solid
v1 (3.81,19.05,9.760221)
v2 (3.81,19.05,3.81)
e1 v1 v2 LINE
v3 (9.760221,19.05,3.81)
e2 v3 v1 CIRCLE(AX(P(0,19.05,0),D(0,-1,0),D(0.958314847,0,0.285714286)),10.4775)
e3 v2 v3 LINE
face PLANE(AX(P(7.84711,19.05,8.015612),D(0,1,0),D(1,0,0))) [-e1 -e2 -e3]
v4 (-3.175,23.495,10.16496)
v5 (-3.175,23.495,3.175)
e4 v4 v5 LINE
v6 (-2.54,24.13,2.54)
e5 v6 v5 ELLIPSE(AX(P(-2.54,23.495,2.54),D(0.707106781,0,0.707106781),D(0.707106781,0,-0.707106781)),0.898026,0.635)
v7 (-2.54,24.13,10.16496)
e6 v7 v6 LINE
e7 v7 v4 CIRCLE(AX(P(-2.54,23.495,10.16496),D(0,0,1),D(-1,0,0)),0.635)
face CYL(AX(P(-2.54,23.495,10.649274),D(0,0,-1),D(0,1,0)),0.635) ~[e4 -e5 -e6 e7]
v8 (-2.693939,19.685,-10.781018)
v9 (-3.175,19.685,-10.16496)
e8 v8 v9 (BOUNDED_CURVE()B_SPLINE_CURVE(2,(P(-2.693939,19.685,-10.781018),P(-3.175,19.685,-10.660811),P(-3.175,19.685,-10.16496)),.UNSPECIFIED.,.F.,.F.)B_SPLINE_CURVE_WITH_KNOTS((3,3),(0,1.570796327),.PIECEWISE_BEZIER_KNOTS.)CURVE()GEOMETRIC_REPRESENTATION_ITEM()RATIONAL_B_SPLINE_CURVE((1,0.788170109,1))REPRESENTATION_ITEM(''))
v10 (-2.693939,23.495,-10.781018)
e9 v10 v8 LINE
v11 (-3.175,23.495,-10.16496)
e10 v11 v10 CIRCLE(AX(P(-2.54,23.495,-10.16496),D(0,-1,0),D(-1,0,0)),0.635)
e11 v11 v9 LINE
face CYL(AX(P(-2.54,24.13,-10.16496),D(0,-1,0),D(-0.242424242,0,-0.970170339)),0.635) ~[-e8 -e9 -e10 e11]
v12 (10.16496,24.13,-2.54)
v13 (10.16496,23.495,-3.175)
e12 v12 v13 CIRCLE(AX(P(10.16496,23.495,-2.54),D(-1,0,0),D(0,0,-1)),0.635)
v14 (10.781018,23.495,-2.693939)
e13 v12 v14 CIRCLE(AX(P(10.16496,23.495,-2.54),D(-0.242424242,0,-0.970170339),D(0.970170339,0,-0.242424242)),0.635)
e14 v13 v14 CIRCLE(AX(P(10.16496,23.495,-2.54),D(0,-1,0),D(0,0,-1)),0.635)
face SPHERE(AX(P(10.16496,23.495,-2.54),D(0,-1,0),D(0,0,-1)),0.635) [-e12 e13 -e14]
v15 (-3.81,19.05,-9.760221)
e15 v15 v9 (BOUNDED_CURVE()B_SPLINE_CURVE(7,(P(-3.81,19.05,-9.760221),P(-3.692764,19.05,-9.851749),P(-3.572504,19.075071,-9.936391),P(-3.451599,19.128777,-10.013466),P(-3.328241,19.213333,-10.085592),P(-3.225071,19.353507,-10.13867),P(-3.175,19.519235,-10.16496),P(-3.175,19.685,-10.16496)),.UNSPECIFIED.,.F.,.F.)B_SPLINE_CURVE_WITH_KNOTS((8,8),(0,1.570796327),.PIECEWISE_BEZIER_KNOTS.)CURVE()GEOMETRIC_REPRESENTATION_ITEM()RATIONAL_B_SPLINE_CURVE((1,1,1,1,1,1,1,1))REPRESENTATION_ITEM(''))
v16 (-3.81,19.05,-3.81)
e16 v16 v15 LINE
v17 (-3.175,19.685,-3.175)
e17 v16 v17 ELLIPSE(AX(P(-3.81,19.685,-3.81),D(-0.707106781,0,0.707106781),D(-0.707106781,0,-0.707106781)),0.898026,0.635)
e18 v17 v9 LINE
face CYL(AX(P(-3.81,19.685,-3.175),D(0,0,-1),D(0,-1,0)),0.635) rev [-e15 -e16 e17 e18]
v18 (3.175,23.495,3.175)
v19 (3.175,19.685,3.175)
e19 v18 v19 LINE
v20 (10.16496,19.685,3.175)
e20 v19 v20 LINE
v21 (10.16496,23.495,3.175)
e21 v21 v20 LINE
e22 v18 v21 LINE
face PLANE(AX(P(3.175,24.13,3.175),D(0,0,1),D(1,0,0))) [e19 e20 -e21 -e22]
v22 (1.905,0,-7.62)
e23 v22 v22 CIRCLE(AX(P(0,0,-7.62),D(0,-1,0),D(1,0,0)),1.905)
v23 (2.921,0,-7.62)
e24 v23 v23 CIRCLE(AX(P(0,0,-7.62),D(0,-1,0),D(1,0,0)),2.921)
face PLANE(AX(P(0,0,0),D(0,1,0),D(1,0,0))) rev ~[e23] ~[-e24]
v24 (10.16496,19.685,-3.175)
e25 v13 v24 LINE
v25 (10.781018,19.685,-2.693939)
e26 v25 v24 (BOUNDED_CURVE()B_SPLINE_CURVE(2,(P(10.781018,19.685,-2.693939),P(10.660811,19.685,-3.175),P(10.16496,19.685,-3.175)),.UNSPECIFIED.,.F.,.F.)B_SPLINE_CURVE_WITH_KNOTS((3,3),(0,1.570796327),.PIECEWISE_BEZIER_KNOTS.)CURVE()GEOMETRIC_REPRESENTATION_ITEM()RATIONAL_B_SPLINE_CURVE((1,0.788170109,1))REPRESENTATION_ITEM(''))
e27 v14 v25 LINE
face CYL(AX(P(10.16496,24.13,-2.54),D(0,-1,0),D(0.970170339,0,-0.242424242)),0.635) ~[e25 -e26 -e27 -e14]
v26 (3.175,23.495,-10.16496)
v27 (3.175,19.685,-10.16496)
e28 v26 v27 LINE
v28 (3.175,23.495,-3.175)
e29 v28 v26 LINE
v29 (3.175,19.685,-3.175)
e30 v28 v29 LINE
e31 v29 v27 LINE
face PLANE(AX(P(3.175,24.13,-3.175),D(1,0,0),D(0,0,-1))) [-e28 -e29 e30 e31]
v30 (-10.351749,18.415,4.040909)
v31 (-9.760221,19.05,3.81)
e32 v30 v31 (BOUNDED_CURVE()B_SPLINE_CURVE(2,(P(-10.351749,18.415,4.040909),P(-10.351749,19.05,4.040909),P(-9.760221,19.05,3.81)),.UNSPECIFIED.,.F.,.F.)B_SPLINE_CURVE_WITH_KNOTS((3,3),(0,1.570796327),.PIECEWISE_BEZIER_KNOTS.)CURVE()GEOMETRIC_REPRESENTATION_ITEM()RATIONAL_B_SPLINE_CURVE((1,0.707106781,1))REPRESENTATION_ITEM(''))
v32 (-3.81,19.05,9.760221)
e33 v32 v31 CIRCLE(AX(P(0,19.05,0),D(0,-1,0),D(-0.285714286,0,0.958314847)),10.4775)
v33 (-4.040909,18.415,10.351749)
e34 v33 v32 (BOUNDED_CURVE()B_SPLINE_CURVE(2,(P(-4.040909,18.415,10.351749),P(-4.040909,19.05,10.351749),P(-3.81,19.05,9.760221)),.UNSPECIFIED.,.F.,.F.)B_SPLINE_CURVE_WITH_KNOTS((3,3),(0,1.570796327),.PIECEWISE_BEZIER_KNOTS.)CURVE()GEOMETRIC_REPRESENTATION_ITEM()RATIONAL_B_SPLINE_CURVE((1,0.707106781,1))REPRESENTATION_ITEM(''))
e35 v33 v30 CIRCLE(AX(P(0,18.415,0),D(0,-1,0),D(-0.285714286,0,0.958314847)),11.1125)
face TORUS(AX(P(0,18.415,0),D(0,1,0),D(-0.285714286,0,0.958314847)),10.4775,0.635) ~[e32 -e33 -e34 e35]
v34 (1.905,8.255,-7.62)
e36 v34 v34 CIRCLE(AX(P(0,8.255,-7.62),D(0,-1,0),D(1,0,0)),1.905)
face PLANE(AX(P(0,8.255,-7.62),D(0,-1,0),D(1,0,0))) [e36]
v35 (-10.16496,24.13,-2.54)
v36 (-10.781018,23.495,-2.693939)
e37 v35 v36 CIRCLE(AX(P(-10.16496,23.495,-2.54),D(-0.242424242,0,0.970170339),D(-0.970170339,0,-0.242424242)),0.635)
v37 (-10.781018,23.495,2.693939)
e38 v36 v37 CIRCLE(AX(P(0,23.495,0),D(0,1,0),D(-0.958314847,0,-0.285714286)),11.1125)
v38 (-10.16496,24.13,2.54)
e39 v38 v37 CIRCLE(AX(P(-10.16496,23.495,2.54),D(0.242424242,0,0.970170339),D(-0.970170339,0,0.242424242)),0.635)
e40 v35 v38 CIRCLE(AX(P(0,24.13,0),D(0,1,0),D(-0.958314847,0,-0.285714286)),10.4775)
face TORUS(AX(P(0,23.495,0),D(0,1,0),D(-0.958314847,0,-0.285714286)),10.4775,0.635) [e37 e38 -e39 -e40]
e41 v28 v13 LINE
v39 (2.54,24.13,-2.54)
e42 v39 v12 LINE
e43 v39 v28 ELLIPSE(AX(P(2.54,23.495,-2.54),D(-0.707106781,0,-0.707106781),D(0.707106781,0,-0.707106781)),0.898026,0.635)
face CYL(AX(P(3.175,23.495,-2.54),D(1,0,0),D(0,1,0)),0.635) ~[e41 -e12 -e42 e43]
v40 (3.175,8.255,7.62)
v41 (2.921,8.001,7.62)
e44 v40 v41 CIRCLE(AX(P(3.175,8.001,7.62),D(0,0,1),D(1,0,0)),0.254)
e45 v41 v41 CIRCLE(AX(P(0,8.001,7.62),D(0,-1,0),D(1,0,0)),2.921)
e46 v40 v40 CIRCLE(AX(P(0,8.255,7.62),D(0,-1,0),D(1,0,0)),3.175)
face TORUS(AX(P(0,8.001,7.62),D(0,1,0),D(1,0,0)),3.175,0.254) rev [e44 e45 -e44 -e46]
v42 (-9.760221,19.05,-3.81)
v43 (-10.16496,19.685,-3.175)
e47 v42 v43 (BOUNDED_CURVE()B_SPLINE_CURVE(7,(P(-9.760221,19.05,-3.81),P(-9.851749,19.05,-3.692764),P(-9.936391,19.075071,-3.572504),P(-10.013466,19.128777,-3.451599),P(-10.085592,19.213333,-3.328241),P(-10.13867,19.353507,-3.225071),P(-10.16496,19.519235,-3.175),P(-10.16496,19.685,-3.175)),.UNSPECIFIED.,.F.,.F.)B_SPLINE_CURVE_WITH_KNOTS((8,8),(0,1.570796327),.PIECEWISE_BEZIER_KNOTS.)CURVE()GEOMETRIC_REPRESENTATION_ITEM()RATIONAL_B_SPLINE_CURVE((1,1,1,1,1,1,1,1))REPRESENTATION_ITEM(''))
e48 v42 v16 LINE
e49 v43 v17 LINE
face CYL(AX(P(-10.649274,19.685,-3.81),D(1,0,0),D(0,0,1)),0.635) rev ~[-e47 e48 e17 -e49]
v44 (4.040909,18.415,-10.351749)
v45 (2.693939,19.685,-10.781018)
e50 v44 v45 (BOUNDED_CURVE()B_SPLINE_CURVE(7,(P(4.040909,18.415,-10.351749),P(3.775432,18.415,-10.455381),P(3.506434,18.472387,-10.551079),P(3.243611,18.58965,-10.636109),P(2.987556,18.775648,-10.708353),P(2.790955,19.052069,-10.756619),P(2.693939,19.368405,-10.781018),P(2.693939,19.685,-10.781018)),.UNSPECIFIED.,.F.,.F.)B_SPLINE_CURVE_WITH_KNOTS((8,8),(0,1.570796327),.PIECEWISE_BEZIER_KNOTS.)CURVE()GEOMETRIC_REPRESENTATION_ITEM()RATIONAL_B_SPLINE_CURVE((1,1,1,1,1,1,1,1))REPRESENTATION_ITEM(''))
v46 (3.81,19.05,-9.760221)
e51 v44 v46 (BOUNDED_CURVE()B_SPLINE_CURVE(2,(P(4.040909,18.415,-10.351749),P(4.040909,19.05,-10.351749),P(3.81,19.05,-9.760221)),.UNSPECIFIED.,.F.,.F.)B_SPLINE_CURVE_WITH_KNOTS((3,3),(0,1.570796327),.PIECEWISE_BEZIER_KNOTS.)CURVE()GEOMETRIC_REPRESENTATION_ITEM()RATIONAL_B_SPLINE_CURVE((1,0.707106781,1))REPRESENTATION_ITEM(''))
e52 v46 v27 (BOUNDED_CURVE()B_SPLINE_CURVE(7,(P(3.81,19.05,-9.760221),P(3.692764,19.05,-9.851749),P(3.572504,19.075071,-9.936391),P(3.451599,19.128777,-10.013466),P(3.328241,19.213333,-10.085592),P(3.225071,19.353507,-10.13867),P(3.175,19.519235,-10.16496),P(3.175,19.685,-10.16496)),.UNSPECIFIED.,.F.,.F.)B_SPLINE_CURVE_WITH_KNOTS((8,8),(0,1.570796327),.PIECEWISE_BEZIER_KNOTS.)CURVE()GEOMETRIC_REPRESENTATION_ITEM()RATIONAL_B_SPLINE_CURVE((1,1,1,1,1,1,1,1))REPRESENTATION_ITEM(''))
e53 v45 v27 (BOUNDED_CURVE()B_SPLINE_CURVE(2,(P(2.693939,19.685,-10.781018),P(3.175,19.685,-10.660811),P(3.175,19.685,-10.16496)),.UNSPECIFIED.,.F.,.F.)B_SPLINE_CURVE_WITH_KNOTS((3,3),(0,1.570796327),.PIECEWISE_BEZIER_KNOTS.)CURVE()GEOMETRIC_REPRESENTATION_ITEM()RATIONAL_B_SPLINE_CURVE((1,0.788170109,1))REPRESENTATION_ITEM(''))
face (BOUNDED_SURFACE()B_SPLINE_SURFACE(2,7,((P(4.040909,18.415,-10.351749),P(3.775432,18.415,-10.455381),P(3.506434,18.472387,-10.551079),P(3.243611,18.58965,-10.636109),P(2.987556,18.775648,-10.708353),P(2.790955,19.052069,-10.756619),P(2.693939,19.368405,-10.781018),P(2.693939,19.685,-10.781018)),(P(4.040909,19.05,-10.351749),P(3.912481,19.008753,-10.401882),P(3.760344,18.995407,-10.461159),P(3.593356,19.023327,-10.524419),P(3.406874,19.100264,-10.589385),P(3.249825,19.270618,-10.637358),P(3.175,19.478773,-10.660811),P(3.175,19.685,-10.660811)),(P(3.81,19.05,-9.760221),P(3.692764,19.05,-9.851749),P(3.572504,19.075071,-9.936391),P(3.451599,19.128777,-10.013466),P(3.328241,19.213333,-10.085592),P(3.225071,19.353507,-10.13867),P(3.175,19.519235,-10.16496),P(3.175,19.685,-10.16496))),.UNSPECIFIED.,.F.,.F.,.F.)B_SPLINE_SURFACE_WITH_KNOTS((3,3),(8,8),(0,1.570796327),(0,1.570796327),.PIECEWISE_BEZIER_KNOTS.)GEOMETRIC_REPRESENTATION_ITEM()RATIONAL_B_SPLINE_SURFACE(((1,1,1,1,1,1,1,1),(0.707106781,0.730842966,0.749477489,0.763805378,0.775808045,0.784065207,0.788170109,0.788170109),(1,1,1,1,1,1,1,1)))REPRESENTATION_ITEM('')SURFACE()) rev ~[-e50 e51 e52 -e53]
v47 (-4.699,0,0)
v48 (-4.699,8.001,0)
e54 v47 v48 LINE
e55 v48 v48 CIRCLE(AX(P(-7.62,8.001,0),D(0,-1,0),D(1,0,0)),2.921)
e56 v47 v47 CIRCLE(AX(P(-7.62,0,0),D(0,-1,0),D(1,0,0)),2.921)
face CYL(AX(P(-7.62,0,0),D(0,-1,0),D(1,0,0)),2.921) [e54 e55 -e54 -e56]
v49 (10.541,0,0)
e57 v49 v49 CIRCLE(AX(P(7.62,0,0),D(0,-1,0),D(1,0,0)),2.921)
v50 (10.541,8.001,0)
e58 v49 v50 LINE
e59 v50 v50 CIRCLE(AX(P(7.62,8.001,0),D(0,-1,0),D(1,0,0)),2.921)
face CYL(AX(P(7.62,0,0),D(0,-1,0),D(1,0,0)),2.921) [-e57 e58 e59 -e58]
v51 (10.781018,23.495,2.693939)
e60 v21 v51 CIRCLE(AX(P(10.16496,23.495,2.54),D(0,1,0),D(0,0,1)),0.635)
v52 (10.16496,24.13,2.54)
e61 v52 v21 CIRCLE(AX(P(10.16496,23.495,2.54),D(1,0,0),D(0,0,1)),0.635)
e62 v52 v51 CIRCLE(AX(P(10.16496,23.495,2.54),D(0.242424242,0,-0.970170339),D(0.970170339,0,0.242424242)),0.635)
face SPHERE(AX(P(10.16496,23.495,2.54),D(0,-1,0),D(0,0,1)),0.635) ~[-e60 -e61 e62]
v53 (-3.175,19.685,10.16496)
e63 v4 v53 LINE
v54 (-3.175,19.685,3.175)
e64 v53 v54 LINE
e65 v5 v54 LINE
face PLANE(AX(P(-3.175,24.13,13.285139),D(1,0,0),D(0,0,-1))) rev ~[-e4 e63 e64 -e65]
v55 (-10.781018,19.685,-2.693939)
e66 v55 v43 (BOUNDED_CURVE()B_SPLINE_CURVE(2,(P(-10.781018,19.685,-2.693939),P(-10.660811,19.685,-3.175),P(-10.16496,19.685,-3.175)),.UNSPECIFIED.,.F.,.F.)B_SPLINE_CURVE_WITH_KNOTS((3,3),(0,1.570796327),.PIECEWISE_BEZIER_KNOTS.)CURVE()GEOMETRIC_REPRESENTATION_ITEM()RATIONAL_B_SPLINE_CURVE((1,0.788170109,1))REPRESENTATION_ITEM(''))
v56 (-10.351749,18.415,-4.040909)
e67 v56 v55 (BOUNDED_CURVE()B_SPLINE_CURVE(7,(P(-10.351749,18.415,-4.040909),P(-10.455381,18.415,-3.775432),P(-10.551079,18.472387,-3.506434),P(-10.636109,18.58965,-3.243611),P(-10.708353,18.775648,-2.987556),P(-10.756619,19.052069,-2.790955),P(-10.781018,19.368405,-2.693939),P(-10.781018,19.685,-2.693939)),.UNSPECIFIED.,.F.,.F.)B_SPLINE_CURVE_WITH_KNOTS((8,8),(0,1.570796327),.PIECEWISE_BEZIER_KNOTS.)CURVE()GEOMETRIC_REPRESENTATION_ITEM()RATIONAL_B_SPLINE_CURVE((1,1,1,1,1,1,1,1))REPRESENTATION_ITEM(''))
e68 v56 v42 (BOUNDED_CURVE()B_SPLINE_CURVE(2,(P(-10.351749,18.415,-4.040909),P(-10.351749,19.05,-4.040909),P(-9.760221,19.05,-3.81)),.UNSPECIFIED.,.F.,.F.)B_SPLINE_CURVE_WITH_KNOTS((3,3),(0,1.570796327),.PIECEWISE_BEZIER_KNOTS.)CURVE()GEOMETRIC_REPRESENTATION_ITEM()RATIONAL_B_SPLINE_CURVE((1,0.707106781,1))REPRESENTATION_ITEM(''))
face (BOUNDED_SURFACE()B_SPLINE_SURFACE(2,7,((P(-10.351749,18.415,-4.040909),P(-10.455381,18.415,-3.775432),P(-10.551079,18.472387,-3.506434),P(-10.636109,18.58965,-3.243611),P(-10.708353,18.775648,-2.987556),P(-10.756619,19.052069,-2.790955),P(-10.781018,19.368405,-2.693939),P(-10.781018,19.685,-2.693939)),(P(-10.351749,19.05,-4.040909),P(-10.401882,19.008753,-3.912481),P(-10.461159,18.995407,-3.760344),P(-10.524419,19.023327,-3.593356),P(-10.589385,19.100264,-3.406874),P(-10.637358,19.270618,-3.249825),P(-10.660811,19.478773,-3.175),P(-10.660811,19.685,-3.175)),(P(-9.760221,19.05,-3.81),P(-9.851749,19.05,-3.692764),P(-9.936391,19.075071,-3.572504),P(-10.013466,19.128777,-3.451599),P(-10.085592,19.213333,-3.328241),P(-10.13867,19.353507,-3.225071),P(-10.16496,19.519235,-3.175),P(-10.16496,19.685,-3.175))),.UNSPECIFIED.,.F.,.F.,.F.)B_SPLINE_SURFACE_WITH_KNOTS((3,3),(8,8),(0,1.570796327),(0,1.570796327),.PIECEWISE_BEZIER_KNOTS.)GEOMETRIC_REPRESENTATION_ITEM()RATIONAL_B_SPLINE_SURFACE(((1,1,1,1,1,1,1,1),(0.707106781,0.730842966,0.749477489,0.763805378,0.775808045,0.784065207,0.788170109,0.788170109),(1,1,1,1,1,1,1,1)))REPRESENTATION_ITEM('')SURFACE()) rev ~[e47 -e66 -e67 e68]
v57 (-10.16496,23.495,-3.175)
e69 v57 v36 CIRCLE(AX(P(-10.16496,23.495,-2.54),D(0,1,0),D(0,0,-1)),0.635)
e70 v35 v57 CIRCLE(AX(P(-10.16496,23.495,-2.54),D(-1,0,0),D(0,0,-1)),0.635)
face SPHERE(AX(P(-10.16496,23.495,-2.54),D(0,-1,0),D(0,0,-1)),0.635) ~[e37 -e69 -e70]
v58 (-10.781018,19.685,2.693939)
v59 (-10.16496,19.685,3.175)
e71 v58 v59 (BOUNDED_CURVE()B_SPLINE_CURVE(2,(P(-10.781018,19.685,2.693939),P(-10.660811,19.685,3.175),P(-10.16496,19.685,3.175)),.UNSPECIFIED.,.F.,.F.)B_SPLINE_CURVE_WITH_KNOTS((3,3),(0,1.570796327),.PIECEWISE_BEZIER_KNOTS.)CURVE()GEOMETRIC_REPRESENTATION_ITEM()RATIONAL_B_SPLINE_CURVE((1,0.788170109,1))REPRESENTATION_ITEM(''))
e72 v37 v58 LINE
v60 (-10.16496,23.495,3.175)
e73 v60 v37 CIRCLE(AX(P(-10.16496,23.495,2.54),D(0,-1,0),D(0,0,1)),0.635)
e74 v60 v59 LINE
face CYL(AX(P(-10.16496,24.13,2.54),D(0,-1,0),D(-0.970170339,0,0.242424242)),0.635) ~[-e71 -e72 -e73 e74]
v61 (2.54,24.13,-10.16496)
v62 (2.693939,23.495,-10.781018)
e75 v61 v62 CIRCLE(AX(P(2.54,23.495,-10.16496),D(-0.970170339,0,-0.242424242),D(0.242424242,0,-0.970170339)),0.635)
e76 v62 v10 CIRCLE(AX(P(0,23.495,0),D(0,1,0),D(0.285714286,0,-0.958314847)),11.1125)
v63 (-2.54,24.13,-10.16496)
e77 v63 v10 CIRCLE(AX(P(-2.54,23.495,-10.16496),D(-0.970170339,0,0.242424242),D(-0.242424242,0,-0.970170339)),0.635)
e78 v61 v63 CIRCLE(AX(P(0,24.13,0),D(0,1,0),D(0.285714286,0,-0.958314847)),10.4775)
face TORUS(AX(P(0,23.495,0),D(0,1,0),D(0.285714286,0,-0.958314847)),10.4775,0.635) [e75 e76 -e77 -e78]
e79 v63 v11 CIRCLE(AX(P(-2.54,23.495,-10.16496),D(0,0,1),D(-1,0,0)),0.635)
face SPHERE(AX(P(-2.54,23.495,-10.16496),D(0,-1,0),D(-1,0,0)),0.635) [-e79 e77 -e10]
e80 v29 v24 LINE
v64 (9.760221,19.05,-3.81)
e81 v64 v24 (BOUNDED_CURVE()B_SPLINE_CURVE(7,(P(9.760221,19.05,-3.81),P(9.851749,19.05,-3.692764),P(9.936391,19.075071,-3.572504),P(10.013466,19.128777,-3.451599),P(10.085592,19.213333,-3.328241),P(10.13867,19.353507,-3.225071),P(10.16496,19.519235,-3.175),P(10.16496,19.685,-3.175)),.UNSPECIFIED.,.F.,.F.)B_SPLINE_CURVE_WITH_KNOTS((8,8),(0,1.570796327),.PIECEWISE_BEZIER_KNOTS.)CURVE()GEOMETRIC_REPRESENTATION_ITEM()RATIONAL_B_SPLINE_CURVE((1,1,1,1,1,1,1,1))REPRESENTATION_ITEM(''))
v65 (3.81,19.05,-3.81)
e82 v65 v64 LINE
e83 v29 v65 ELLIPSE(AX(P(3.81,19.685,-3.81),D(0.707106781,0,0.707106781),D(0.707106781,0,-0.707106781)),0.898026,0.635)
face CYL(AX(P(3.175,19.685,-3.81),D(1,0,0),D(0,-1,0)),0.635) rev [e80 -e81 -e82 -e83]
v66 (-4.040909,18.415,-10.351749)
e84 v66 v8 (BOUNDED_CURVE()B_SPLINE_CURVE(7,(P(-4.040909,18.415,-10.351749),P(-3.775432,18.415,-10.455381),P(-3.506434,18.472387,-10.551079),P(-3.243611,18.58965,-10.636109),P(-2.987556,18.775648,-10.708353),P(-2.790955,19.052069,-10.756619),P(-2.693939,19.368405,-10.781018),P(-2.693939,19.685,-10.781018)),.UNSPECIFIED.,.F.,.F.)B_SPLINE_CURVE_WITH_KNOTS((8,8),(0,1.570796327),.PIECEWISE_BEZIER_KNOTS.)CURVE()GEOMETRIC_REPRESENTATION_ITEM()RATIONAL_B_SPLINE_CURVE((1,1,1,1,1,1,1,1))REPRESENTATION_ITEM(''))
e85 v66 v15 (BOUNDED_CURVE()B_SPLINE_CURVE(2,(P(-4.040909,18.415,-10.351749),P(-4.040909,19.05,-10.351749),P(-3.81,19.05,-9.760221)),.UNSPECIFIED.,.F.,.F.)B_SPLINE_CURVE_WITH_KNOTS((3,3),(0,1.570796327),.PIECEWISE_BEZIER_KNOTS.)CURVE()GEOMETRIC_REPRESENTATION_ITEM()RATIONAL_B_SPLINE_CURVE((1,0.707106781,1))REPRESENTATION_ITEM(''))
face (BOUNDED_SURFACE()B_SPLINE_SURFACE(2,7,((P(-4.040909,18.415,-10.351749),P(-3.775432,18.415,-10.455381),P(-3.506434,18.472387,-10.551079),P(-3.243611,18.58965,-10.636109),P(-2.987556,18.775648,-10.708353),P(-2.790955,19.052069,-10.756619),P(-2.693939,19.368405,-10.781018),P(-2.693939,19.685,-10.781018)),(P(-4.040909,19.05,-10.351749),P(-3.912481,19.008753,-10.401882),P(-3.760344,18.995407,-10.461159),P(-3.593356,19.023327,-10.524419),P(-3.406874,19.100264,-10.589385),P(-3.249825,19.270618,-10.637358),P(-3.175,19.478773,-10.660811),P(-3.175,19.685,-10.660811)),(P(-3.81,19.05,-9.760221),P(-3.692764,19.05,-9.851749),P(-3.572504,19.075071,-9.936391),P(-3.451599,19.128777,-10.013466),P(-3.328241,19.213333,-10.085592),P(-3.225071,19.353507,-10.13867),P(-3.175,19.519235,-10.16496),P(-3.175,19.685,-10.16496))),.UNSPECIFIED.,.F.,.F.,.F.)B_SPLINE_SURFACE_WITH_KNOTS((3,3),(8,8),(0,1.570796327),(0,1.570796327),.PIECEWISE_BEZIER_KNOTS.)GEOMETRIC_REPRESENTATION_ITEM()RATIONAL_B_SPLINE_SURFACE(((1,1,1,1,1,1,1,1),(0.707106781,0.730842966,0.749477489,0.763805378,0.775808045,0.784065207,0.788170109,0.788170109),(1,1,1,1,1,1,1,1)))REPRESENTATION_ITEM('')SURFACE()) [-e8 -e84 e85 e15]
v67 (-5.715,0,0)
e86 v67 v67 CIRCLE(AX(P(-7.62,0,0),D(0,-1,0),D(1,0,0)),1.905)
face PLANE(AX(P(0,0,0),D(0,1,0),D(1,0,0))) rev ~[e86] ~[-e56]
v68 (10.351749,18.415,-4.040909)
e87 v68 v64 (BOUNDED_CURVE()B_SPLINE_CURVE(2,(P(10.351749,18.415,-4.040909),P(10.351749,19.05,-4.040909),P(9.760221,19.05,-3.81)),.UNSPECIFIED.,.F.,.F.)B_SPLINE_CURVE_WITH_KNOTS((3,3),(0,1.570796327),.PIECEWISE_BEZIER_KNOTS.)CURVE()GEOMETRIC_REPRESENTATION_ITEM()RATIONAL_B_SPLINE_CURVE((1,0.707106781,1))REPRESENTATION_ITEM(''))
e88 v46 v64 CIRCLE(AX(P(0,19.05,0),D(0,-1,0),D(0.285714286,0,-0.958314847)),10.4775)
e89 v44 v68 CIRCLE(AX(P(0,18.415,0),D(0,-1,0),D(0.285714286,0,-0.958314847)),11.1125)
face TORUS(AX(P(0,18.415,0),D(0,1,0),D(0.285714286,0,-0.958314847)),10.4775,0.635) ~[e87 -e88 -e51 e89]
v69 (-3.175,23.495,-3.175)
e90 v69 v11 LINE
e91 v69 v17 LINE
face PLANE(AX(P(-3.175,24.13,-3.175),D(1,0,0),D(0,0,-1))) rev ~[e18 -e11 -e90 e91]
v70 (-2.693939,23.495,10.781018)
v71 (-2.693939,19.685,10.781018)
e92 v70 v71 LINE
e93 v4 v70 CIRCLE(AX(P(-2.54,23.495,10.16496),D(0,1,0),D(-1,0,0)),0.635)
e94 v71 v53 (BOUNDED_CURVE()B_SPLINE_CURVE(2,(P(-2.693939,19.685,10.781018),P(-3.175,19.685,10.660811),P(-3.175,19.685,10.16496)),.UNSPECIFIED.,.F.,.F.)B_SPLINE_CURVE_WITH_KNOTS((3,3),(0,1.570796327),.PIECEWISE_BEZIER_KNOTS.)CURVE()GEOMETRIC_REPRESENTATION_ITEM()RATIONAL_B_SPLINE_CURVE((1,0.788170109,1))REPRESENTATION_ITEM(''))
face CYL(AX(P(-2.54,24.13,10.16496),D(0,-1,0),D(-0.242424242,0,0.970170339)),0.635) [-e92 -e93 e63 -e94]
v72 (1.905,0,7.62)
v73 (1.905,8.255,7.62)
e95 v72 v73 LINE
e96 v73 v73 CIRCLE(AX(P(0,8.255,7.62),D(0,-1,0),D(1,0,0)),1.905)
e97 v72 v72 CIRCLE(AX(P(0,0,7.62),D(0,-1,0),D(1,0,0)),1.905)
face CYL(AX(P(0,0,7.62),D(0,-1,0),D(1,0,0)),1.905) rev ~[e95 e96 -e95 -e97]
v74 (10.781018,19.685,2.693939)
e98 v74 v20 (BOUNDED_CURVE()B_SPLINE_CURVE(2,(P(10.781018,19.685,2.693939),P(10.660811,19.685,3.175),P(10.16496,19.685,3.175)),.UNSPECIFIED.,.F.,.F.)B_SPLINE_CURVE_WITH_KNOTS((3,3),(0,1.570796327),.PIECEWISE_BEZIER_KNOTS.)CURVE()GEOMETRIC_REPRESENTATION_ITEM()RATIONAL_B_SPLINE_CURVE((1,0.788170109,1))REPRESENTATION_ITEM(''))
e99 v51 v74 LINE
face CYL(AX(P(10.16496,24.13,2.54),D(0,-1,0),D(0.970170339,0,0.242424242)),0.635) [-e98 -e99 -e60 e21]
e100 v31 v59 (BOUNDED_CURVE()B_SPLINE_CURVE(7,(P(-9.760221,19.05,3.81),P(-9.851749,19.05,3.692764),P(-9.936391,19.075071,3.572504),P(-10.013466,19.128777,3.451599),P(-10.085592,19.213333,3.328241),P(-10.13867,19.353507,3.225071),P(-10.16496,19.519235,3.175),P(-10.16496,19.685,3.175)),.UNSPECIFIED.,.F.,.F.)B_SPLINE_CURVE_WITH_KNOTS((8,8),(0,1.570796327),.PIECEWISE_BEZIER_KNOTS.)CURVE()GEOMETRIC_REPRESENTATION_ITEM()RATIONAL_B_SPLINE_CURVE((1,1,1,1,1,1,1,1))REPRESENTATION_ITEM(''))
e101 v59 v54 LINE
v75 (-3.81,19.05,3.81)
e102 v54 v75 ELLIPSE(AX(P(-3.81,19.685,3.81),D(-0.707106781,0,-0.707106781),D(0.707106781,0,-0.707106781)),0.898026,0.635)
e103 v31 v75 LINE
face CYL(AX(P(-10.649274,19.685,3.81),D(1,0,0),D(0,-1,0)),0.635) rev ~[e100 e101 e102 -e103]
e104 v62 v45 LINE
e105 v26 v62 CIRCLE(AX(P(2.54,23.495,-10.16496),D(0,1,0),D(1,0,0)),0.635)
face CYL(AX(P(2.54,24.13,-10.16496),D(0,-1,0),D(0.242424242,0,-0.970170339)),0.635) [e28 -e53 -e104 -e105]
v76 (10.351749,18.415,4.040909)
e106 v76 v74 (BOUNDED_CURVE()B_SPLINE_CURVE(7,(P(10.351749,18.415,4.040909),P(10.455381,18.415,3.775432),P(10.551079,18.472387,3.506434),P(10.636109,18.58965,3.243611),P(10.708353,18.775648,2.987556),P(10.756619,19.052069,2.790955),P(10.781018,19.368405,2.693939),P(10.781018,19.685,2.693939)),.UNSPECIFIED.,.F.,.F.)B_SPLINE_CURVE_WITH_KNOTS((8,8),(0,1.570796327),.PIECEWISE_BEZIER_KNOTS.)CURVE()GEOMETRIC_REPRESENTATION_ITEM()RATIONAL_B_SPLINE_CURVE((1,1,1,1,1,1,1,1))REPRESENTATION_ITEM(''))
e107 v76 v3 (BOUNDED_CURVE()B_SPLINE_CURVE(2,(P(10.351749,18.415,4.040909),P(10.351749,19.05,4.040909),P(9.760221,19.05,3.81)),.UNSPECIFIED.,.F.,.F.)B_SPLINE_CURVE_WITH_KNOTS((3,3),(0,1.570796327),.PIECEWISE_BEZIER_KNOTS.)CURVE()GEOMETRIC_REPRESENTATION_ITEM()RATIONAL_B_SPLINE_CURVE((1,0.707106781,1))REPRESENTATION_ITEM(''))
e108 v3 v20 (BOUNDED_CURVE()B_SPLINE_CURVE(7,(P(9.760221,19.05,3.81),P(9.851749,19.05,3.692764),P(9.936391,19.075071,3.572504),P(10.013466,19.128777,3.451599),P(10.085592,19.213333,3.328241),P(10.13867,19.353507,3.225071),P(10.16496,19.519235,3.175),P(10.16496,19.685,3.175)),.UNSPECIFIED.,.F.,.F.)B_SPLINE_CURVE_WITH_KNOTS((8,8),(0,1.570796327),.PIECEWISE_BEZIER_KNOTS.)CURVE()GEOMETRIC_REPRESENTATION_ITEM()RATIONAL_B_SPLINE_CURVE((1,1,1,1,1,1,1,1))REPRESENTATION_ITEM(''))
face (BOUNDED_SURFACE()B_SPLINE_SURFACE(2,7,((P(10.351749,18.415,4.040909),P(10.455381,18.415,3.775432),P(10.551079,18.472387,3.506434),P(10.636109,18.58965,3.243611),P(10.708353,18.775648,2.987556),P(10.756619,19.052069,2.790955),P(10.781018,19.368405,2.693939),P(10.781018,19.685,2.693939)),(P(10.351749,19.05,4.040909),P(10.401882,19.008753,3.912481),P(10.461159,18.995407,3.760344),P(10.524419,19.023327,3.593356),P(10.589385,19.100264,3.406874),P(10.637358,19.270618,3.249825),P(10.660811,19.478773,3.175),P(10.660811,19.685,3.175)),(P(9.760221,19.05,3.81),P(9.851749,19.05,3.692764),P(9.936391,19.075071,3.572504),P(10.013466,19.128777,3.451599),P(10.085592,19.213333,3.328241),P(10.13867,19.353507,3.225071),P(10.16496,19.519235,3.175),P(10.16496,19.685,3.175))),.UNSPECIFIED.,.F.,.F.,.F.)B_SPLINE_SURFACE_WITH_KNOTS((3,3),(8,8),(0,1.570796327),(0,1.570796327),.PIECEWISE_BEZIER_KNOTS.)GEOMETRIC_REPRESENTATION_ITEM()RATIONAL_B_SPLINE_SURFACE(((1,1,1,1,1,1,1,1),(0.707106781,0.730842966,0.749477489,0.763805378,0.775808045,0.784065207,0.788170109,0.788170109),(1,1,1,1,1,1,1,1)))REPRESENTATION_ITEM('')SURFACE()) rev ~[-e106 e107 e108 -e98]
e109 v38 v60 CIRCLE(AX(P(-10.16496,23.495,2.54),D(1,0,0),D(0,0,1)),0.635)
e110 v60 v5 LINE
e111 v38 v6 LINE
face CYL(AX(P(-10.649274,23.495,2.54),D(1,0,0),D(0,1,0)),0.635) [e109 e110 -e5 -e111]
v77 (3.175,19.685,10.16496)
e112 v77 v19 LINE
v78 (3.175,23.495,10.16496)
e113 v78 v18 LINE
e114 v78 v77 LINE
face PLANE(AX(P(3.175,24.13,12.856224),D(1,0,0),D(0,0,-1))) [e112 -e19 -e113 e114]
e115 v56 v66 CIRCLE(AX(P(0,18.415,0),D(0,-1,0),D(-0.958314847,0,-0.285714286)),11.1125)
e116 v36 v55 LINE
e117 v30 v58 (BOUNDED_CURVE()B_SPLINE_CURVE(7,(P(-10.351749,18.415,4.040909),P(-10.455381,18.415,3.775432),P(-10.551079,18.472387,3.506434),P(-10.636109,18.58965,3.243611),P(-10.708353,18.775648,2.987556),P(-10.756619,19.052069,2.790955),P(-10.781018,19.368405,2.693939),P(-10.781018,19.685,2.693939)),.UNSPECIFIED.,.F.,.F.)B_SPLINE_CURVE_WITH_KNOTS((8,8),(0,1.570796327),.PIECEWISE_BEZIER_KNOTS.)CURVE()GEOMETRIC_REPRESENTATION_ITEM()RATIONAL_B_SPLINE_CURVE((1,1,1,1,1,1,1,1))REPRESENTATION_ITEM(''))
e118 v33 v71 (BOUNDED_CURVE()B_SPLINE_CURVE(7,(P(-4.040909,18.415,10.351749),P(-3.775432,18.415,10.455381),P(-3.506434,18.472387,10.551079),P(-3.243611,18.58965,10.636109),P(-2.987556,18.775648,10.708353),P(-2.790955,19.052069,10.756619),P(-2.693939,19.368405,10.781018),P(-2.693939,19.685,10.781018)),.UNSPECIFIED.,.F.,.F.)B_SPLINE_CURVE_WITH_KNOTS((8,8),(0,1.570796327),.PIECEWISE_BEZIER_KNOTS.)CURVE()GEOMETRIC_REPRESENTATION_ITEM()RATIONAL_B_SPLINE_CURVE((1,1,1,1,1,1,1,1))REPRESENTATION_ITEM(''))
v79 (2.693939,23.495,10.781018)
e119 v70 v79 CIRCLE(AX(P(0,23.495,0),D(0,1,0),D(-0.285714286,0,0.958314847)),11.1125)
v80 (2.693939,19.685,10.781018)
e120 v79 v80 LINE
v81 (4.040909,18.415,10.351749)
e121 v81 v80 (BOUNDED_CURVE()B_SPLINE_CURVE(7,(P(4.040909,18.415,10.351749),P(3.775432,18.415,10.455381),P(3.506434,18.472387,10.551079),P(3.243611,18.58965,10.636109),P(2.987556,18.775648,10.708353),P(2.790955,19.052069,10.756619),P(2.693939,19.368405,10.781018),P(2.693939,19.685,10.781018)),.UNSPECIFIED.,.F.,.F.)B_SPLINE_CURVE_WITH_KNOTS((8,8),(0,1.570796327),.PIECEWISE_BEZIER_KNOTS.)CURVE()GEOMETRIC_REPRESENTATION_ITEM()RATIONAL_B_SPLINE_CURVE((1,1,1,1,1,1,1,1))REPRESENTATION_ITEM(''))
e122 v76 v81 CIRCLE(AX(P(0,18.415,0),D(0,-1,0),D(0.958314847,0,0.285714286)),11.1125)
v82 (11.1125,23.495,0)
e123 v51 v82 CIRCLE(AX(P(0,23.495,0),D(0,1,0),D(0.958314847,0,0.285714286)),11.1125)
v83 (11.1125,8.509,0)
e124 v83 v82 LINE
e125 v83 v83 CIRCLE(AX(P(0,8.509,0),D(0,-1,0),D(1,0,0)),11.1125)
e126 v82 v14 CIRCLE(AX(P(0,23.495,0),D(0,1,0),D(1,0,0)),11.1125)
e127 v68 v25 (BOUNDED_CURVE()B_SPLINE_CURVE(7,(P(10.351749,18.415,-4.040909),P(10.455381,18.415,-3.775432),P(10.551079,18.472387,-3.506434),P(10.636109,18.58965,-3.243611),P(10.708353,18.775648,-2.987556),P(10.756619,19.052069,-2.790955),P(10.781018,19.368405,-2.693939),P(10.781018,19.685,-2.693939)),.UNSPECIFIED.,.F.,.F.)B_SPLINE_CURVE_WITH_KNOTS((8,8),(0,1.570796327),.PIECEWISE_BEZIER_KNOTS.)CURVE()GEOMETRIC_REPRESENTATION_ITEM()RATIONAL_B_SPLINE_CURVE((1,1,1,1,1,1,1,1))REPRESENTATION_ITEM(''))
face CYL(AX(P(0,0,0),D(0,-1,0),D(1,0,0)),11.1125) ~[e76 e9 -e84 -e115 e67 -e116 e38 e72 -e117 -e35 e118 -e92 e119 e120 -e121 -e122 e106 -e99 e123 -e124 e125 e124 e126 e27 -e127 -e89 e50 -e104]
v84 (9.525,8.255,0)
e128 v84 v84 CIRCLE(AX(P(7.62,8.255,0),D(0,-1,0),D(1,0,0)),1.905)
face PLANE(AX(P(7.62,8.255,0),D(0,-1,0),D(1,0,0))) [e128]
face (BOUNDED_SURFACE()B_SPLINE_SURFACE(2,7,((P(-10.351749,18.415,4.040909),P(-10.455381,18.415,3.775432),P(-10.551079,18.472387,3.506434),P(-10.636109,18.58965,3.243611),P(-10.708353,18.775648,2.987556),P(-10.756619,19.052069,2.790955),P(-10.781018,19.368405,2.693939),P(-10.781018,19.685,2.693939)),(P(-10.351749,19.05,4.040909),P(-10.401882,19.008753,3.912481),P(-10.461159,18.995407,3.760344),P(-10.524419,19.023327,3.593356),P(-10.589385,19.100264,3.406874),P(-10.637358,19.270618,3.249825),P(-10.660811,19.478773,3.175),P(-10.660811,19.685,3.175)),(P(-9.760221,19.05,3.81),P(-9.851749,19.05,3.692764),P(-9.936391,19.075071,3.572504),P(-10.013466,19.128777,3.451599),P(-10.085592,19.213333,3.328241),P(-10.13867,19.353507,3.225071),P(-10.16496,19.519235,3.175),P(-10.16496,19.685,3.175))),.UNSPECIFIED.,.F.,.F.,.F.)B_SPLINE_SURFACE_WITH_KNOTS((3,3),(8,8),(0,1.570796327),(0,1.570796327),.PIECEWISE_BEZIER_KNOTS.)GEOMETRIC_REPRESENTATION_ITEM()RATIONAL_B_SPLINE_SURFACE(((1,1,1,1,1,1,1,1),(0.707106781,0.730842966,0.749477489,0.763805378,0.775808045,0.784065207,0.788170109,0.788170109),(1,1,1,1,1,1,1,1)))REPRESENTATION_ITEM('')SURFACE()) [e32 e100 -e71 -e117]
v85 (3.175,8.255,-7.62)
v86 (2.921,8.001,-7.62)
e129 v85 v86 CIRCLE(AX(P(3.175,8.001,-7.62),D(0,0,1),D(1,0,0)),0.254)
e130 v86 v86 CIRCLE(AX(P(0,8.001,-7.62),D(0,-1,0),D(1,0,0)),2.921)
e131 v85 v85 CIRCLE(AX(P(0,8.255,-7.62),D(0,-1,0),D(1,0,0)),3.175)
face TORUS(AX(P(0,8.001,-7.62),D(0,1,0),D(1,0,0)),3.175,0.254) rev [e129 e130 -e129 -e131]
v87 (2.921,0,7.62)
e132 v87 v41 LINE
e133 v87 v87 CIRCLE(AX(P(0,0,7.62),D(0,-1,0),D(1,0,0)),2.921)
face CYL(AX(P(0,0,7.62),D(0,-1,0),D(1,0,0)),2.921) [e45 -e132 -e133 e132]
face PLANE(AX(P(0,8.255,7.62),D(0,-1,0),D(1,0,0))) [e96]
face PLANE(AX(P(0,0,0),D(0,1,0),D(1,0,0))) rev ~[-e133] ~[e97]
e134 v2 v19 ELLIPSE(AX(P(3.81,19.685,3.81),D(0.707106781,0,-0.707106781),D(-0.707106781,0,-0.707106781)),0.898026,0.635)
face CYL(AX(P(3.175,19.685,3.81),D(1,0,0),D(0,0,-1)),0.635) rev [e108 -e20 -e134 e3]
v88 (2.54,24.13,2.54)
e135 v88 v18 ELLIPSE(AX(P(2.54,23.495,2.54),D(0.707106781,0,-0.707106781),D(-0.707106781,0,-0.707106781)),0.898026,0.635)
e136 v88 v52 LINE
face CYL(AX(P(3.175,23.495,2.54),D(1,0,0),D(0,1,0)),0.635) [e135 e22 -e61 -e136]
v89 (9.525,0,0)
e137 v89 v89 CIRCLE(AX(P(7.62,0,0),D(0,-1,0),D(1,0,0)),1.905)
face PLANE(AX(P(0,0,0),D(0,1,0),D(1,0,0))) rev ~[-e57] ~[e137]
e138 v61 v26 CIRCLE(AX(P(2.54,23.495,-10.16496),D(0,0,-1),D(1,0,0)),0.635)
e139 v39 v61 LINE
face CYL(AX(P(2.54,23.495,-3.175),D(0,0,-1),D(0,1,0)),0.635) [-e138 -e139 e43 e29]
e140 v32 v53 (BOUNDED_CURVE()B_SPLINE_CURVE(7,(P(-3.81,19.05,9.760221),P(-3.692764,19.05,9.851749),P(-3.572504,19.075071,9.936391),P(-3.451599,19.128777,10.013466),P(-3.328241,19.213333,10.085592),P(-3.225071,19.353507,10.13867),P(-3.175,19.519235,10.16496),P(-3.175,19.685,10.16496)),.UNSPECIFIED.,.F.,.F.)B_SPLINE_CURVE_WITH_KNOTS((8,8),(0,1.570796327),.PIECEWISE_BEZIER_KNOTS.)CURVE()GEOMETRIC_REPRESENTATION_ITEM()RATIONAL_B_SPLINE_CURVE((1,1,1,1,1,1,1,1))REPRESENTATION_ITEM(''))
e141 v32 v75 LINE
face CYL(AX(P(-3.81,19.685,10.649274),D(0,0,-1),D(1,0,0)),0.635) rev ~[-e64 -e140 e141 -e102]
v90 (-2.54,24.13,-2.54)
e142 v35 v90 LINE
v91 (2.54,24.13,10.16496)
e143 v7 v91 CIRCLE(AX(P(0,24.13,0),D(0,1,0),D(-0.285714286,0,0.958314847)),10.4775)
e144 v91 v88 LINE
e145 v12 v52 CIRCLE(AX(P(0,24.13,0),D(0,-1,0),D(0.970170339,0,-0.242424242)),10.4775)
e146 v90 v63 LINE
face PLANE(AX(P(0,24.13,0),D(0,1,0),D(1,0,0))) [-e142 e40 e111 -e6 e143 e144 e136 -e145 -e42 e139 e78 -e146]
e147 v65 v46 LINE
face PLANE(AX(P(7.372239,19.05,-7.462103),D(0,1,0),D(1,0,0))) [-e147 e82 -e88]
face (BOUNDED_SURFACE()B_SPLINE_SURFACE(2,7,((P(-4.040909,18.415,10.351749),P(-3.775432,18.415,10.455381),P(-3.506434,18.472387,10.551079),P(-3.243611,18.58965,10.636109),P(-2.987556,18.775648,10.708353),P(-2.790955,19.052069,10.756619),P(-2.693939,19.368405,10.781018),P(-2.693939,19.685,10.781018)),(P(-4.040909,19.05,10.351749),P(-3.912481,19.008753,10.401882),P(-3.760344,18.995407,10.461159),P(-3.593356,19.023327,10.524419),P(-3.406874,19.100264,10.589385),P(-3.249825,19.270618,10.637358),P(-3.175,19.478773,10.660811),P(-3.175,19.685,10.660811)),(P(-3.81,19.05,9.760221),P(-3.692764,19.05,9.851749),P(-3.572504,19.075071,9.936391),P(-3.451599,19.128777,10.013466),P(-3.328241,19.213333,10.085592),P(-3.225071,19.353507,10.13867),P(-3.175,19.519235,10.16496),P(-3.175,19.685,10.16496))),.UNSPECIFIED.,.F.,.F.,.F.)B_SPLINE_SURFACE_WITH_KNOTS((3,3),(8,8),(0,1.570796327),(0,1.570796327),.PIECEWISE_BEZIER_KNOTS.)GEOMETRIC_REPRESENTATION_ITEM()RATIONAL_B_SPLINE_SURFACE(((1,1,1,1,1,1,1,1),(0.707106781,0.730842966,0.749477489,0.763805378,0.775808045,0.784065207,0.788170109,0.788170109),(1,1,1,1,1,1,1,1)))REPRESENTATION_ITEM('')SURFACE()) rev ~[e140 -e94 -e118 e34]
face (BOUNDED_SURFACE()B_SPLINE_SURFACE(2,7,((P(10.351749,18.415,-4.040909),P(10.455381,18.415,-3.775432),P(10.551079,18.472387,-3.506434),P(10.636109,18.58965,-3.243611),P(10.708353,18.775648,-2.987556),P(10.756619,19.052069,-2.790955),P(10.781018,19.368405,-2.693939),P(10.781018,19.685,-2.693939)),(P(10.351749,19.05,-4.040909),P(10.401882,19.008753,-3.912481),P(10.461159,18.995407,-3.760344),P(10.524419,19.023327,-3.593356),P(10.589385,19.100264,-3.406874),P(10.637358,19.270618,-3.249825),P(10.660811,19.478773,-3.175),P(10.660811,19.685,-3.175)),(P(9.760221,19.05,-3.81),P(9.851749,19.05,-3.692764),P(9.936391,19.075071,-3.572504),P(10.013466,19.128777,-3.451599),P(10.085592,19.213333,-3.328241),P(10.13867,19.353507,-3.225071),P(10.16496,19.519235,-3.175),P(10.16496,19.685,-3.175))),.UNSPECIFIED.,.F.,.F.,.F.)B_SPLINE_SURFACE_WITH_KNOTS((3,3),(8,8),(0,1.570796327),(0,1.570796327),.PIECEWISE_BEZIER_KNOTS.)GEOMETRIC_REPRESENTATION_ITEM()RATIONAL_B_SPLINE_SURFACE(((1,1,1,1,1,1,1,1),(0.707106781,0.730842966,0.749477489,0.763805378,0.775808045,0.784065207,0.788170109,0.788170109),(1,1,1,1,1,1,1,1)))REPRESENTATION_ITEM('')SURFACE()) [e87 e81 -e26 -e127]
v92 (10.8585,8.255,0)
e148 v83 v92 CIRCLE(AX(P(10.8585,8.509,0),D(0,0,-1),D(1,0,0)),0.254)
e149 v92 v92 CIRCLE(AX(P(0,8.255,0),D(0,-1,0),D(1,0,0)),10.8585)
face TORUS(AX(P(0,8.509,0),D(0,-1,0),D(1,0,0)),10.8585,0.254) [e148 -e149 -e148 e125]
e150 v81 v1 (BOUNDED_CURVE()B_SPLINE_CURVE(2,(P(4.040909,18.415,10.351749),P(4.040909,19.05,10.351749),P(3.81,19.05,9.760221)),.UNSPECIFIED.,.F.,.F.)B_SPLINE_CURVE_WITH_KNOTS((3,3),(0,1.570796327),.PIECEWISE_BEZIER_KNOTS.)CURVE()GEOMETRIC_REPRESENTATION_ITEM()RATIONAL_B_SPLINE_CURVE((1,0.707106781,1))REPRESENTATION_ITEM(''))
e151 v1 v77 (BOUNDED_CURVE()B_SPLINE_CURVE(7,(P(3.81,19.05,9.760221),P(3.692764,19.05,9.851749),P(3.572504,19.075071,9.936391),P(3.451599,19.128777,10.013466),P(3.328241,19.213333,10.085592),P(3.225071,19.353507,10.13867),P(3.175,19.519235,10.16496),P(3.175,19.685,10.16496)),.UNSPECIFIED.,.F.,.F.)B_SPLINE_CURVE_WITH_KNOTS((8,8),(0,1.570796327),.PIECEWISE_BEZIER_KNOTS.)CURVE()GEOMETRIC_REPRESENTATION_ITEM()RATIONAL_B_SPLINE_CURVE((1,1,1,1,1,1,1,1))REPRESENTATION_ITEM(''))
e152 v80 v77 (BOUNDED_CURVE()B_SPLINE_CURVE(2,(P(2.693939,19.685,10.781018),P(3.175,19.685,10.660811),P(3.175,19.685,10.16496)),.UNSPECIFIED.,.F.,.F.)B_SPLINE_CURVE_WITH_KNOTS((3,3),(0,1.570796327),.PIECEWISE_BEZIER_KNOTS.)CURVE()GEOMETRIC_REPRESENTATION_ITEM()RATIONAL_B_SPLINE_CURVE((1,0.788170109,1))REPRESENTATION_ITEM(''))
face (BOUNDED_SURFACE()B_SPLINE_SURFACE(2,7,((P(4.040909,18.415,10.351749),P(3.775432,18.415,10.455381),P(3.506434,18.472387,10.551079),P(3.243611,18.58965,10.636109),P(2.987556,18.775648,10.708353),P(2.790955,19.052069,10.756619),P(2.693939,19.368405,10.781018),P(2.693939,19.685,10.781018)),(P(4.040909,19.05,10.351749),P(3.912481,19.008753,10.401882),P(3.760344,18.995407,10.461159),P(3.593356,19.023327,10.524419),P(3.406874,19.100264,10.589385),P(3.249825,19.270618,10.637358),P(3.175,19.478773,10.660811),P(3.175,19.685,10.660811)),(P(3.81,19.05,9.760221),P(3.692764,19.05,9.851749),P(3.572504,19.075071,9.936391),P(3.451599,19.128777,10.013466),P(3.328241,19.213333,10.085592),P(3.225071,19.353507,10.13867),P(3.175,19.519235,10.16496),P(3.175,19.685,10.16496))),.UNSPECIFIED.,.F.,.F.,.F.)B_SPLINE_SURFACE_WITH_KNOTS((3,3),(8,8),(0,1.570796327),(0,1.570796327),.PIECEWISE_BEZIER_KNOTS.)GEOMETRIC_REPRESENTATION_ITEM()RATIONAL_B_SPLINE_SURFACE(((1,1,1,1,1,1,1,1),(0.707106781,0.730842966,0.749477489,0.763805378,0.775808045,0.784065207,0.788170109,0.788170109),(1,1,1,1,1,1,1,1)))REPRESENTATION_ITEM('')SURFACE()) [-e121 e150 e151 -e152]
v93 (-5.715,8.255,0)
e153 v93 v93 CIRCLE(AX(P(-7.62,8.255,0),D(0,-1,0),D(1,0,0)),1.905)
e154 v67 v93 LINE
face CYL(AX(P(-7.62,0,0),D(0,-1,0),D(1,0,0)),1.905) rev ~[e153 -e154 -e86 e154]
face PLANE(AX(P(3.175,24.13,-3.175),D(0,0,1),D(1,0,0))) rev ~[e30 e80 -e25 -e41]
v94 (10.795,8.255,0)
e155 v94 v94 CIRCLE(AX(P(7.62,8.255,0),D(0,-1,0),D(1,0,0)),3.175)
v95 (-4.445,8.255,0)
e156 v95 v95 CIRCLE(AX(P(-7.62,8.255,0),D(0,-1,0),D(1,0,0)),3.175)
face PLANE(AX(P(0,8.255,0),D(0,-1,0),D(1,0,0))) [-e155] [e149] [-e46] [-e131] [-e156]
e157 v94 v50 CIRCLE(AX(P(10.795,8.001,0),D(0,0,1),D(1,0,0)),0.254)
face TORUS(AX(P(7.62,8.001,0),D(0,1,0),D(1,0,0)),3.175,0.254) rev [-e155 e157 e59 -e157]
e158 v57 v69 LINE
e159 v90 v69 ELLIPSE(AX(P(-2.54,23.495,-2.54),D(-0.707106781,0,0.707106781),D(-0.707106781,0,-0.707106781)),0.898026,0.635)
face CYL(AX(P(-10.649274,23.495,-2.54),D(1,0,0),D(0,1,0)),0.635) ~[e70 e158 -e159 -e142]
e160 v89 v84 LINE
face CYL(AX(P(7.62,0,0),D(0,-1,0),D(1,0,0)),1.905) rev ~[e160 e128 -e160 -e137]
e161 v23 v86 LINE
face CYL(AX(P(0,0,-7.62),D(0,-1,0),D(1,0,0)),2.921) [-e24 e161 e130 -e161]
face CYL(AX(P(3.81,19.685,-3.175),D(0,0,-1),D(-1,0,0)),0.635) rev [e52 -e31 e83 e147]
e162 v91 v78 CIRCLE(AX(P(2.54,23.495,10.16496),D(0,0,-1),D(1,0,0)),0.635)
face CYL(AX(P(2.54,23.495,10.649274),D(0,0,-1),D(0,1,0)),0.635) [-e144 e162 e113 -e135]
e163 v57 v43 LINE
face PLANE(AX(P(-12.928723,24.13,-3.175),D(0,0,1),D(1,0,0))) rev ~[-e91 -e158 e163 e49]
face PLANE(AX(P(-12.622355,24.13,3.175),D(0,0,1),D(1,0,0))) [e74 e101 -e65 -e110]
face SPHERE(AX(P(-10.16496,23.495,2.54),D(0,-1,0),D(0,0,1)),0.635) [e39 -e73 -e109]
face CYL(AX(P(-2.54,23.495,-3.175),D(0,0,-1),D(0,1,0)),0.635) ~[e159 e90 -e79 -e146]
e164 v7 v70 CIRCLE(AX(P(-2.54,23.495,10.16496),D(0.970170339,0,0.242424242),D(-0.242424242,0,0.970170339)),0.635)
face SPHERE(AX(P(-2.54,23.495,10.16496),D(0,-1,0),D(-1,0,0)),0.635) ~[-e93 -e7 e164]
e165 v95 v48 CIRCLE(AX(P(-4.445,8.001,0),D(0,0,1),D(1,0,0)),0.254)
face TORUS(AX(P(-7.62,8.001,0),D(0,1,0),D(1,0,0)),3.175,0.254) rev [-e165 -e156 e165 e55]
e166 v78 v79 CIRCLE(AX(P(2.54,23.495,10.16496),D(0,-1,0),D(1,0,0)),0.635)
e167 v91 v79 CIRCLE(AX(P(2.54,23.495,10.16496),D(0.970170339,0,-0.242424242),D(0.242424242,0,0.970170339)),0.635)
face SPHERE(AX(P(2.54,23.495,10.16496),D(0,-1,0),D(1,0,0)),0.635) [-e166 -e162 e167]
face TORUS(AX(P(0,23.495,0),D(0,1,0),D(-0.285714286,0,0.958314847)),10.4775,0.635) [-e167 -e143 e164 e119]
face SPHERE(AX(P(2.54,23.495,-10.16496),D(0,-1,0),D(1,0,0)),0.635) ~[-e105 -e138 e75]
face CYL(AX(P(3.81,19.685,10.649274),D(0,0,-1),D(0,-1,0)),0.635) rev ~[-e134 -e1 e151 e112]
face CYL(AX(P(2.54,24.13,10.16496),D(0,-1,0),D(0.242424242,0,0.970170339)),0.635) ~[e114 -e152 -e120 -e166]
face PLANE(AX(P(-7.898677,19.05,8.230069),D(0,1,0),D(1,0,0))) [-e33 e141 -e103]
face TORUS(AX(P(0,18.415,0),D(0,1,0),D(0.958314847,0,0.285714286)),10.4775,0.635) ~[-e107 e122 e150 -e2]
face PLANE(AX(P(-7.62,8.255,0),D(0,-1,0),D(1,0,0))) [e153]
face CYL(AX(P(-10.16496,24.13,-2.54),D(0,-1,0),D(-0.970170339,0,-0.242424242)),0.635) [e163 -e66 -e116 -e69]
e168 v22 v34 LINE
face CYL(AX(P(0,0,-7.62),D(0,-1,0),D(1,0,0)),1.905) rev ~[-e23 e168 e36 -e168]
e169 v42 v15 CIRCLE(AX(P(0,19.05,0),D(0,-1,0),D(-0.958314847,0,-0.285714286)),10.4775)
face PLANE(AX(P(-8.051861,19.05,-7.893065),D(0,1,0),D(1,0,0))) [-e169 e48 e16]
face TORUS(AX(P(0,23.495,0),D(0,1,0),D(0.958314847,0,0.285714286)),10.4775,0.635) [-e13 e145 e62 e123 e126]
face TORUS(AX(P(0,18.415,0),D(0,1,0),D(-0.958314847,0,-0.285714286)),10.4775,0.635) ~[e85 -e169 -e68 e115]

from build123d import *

# Parameters (mm, degrees)
SKETCH1_R           = 11.1125
BOSS_EXTRUDE1_DEPTH = 24.13
SKETCH7_R           = 1.905
CUT_EXTRUDE8_DEPTH  = 8.255
SKETCH8_R           = 13.133794805
SKETCH8_R_2         = 2.921
CUT_EXTRUDE9_DEPTH  = 8.255
FILLET9_R           = 0.254
SKETCH9_W           = 9.753722739
SKETCH9_H           = 9.436129392
SKETCH9_W_2         = 8.394478745
SKETCH9_H_2         = 8.574206565
SKETCH9_W_3         = 9.344219041
SKETCH9_H_3         = 9.681223662
SKETCH9_W_4         = 9.447354901
SKETCH9_H_4         = 10.110138634
CUT_EXTRUDE10_DEPTH = 5.08
FILLET10_R          = 0.635


with BuildPart() as part:
    # Sketch1 → Boss-Extrude1 (new body)
    with BuildSketch(Plane(origin=(0, 0, 0), x_dir=(1, 0, 0), z_dir=(0, 1, 0))):
        Circle(SKETCH1_R)
    extrude(amount=BOSS_EXTRUDE1_DEPTH)

    # Sketch7 → Cut-Extrude8 (cut)
    with BuildSketch(Plane.XZ):
        with Locations((0, 7.62)):
            Circle(SKETCH7_R)
        with Locations((7.62, 0)):
            Circle(SKETCH7_R)
        with Locations((0, -7.62)):
            Circle(SKETCH7_R)
        with Locations((-7.62, 0)):
            Circle(SKETCH7_R)
    extrude(amount=-CUT_EXTRUDE8_DEPTH, mode=Mode.SUBTRACT)

    # Sketch8 → Cut-Extrude9 (cut)
    with BuildSketch(Plane.XZ):
        Circle(SKETCH8_R)
        with Locations((-7.62, 0)):
            Circle(SKETCH8_R_2, mode=Mode.SUBTRACT)
        with Locations((0, 7.62)):
            Circle(SKETCH8_R_2, mode=Mode.SUBTRACT)
        with Locations((7.62, 0)):
            Circle(SKETCH8_R_2, mode=Mode.SUBTRACT)
        with Locations((0, -7.62)):
            Circle(SKETCH8_R_2, mode=Mode.SUBTRACT)
    extrude(amount=-CUT_EXTRUDE9_DEPTH, mode=Mode.SUBTRACT)

    # Fillet9
    fillet9_edges = [part.edges().sort_by_distance(p)[0] for p in [
        (-2.921, 8.255, 7.62),
        (4.699, 8.255, 0),
        (-2.921, 8.255, -7.62),
        (-10.541, 8.255, 0),
        (-11.1125, 8.255, 0),
    ]]
    fillet(fillet9_edges, radius=FILLET9_R)

    # Sketch9 → Cut-Extrude10 (cut)
    with BuildSketch(Plane(origin=(0, 24.13, 0), x_dir=(1, 0, 0), z_dir=(0, 1, 0))):
        with Locations((-8.05186137, 7.893064696)):
            Rectangle(SKETCH9_W, SKETCH9_H)
        with Locations((7.372239373, 7.462103283)):
            Rectangle(SKETCH9_W_2, SKETCH9_H_2)
        with Locations((7.847109521, -8.015611831)):
            Rectangle(SKETCH9_W_3, SKETCH9_H_3)
        with Locations((-7.898677451, -8.230069317)):
            Rectangle(SKETCH9_W_4, SKETCH9_H_4)
    extrude(amount=-CUT_EXTRUDE10_DEPTH, mode=Mode.SUBTRACT)

    # Fillet10
    fillet10_edges = [part.edges().sort_by_distance(p)[0] for p in [
        (10.996083637, 24.13, 1.604306982),
        (0, 24.13, -11.1125),
        (-11.1125, 24.13, 0),
        (0, 24.13, 11.1125),
        (-7.857724106, 19.05, -7.857724106),
        (-10.649273743, 21.59, -3.175),
        (-3.175, 21.59, -10.649273743),
        (7.857724106, 19.05, -7.857724106),
        (10.649273743, 21.59, -3.175),
        (3.175, 21.59, -10.649273743),
        (7.857724106, 19.05, 7.857724106),
        (10.649273743, 21.59, 3.175),
        (3.175, 21.59, 10.649273743),
        (-7.857724106, 19.05, 7.857724106),
        (-10.649273743, 21.59, 3.175),
        (-3.175, 21.59, 10.649273743),
        (-3.175, 19.05, 6.912136871),
        (-6.912136871, 19.05, 3.175),
        (-3.175, 24.13, 6.912136871),
        (-6.912136871, 24.13, 3.175),
        (3.175, 19.05, 6.912136871),
        (6.912136871, 19.05, 3.175),
        (3.175, 24.13, 6.912136871),
        (6.912136871, 24.13, 3.175),
        (3.175, 19.05, -6.912136871),
        (6.912136871, 19.05, -3.175),
        (3.175, 24.13, -6.912136871),
        (6.912136871, 24.13, -3.175),
        (-3.175, 19.05, -6.912136871),
        (-6.912136871, 19.05, -3.175),
        (-3.175, 24.13, -6.912136871),
        (-6.912136871, 24.13, -3.175),
    ]]
    fillet(fillet10_edges, radius=FILLET10_R)


solid = part.part
